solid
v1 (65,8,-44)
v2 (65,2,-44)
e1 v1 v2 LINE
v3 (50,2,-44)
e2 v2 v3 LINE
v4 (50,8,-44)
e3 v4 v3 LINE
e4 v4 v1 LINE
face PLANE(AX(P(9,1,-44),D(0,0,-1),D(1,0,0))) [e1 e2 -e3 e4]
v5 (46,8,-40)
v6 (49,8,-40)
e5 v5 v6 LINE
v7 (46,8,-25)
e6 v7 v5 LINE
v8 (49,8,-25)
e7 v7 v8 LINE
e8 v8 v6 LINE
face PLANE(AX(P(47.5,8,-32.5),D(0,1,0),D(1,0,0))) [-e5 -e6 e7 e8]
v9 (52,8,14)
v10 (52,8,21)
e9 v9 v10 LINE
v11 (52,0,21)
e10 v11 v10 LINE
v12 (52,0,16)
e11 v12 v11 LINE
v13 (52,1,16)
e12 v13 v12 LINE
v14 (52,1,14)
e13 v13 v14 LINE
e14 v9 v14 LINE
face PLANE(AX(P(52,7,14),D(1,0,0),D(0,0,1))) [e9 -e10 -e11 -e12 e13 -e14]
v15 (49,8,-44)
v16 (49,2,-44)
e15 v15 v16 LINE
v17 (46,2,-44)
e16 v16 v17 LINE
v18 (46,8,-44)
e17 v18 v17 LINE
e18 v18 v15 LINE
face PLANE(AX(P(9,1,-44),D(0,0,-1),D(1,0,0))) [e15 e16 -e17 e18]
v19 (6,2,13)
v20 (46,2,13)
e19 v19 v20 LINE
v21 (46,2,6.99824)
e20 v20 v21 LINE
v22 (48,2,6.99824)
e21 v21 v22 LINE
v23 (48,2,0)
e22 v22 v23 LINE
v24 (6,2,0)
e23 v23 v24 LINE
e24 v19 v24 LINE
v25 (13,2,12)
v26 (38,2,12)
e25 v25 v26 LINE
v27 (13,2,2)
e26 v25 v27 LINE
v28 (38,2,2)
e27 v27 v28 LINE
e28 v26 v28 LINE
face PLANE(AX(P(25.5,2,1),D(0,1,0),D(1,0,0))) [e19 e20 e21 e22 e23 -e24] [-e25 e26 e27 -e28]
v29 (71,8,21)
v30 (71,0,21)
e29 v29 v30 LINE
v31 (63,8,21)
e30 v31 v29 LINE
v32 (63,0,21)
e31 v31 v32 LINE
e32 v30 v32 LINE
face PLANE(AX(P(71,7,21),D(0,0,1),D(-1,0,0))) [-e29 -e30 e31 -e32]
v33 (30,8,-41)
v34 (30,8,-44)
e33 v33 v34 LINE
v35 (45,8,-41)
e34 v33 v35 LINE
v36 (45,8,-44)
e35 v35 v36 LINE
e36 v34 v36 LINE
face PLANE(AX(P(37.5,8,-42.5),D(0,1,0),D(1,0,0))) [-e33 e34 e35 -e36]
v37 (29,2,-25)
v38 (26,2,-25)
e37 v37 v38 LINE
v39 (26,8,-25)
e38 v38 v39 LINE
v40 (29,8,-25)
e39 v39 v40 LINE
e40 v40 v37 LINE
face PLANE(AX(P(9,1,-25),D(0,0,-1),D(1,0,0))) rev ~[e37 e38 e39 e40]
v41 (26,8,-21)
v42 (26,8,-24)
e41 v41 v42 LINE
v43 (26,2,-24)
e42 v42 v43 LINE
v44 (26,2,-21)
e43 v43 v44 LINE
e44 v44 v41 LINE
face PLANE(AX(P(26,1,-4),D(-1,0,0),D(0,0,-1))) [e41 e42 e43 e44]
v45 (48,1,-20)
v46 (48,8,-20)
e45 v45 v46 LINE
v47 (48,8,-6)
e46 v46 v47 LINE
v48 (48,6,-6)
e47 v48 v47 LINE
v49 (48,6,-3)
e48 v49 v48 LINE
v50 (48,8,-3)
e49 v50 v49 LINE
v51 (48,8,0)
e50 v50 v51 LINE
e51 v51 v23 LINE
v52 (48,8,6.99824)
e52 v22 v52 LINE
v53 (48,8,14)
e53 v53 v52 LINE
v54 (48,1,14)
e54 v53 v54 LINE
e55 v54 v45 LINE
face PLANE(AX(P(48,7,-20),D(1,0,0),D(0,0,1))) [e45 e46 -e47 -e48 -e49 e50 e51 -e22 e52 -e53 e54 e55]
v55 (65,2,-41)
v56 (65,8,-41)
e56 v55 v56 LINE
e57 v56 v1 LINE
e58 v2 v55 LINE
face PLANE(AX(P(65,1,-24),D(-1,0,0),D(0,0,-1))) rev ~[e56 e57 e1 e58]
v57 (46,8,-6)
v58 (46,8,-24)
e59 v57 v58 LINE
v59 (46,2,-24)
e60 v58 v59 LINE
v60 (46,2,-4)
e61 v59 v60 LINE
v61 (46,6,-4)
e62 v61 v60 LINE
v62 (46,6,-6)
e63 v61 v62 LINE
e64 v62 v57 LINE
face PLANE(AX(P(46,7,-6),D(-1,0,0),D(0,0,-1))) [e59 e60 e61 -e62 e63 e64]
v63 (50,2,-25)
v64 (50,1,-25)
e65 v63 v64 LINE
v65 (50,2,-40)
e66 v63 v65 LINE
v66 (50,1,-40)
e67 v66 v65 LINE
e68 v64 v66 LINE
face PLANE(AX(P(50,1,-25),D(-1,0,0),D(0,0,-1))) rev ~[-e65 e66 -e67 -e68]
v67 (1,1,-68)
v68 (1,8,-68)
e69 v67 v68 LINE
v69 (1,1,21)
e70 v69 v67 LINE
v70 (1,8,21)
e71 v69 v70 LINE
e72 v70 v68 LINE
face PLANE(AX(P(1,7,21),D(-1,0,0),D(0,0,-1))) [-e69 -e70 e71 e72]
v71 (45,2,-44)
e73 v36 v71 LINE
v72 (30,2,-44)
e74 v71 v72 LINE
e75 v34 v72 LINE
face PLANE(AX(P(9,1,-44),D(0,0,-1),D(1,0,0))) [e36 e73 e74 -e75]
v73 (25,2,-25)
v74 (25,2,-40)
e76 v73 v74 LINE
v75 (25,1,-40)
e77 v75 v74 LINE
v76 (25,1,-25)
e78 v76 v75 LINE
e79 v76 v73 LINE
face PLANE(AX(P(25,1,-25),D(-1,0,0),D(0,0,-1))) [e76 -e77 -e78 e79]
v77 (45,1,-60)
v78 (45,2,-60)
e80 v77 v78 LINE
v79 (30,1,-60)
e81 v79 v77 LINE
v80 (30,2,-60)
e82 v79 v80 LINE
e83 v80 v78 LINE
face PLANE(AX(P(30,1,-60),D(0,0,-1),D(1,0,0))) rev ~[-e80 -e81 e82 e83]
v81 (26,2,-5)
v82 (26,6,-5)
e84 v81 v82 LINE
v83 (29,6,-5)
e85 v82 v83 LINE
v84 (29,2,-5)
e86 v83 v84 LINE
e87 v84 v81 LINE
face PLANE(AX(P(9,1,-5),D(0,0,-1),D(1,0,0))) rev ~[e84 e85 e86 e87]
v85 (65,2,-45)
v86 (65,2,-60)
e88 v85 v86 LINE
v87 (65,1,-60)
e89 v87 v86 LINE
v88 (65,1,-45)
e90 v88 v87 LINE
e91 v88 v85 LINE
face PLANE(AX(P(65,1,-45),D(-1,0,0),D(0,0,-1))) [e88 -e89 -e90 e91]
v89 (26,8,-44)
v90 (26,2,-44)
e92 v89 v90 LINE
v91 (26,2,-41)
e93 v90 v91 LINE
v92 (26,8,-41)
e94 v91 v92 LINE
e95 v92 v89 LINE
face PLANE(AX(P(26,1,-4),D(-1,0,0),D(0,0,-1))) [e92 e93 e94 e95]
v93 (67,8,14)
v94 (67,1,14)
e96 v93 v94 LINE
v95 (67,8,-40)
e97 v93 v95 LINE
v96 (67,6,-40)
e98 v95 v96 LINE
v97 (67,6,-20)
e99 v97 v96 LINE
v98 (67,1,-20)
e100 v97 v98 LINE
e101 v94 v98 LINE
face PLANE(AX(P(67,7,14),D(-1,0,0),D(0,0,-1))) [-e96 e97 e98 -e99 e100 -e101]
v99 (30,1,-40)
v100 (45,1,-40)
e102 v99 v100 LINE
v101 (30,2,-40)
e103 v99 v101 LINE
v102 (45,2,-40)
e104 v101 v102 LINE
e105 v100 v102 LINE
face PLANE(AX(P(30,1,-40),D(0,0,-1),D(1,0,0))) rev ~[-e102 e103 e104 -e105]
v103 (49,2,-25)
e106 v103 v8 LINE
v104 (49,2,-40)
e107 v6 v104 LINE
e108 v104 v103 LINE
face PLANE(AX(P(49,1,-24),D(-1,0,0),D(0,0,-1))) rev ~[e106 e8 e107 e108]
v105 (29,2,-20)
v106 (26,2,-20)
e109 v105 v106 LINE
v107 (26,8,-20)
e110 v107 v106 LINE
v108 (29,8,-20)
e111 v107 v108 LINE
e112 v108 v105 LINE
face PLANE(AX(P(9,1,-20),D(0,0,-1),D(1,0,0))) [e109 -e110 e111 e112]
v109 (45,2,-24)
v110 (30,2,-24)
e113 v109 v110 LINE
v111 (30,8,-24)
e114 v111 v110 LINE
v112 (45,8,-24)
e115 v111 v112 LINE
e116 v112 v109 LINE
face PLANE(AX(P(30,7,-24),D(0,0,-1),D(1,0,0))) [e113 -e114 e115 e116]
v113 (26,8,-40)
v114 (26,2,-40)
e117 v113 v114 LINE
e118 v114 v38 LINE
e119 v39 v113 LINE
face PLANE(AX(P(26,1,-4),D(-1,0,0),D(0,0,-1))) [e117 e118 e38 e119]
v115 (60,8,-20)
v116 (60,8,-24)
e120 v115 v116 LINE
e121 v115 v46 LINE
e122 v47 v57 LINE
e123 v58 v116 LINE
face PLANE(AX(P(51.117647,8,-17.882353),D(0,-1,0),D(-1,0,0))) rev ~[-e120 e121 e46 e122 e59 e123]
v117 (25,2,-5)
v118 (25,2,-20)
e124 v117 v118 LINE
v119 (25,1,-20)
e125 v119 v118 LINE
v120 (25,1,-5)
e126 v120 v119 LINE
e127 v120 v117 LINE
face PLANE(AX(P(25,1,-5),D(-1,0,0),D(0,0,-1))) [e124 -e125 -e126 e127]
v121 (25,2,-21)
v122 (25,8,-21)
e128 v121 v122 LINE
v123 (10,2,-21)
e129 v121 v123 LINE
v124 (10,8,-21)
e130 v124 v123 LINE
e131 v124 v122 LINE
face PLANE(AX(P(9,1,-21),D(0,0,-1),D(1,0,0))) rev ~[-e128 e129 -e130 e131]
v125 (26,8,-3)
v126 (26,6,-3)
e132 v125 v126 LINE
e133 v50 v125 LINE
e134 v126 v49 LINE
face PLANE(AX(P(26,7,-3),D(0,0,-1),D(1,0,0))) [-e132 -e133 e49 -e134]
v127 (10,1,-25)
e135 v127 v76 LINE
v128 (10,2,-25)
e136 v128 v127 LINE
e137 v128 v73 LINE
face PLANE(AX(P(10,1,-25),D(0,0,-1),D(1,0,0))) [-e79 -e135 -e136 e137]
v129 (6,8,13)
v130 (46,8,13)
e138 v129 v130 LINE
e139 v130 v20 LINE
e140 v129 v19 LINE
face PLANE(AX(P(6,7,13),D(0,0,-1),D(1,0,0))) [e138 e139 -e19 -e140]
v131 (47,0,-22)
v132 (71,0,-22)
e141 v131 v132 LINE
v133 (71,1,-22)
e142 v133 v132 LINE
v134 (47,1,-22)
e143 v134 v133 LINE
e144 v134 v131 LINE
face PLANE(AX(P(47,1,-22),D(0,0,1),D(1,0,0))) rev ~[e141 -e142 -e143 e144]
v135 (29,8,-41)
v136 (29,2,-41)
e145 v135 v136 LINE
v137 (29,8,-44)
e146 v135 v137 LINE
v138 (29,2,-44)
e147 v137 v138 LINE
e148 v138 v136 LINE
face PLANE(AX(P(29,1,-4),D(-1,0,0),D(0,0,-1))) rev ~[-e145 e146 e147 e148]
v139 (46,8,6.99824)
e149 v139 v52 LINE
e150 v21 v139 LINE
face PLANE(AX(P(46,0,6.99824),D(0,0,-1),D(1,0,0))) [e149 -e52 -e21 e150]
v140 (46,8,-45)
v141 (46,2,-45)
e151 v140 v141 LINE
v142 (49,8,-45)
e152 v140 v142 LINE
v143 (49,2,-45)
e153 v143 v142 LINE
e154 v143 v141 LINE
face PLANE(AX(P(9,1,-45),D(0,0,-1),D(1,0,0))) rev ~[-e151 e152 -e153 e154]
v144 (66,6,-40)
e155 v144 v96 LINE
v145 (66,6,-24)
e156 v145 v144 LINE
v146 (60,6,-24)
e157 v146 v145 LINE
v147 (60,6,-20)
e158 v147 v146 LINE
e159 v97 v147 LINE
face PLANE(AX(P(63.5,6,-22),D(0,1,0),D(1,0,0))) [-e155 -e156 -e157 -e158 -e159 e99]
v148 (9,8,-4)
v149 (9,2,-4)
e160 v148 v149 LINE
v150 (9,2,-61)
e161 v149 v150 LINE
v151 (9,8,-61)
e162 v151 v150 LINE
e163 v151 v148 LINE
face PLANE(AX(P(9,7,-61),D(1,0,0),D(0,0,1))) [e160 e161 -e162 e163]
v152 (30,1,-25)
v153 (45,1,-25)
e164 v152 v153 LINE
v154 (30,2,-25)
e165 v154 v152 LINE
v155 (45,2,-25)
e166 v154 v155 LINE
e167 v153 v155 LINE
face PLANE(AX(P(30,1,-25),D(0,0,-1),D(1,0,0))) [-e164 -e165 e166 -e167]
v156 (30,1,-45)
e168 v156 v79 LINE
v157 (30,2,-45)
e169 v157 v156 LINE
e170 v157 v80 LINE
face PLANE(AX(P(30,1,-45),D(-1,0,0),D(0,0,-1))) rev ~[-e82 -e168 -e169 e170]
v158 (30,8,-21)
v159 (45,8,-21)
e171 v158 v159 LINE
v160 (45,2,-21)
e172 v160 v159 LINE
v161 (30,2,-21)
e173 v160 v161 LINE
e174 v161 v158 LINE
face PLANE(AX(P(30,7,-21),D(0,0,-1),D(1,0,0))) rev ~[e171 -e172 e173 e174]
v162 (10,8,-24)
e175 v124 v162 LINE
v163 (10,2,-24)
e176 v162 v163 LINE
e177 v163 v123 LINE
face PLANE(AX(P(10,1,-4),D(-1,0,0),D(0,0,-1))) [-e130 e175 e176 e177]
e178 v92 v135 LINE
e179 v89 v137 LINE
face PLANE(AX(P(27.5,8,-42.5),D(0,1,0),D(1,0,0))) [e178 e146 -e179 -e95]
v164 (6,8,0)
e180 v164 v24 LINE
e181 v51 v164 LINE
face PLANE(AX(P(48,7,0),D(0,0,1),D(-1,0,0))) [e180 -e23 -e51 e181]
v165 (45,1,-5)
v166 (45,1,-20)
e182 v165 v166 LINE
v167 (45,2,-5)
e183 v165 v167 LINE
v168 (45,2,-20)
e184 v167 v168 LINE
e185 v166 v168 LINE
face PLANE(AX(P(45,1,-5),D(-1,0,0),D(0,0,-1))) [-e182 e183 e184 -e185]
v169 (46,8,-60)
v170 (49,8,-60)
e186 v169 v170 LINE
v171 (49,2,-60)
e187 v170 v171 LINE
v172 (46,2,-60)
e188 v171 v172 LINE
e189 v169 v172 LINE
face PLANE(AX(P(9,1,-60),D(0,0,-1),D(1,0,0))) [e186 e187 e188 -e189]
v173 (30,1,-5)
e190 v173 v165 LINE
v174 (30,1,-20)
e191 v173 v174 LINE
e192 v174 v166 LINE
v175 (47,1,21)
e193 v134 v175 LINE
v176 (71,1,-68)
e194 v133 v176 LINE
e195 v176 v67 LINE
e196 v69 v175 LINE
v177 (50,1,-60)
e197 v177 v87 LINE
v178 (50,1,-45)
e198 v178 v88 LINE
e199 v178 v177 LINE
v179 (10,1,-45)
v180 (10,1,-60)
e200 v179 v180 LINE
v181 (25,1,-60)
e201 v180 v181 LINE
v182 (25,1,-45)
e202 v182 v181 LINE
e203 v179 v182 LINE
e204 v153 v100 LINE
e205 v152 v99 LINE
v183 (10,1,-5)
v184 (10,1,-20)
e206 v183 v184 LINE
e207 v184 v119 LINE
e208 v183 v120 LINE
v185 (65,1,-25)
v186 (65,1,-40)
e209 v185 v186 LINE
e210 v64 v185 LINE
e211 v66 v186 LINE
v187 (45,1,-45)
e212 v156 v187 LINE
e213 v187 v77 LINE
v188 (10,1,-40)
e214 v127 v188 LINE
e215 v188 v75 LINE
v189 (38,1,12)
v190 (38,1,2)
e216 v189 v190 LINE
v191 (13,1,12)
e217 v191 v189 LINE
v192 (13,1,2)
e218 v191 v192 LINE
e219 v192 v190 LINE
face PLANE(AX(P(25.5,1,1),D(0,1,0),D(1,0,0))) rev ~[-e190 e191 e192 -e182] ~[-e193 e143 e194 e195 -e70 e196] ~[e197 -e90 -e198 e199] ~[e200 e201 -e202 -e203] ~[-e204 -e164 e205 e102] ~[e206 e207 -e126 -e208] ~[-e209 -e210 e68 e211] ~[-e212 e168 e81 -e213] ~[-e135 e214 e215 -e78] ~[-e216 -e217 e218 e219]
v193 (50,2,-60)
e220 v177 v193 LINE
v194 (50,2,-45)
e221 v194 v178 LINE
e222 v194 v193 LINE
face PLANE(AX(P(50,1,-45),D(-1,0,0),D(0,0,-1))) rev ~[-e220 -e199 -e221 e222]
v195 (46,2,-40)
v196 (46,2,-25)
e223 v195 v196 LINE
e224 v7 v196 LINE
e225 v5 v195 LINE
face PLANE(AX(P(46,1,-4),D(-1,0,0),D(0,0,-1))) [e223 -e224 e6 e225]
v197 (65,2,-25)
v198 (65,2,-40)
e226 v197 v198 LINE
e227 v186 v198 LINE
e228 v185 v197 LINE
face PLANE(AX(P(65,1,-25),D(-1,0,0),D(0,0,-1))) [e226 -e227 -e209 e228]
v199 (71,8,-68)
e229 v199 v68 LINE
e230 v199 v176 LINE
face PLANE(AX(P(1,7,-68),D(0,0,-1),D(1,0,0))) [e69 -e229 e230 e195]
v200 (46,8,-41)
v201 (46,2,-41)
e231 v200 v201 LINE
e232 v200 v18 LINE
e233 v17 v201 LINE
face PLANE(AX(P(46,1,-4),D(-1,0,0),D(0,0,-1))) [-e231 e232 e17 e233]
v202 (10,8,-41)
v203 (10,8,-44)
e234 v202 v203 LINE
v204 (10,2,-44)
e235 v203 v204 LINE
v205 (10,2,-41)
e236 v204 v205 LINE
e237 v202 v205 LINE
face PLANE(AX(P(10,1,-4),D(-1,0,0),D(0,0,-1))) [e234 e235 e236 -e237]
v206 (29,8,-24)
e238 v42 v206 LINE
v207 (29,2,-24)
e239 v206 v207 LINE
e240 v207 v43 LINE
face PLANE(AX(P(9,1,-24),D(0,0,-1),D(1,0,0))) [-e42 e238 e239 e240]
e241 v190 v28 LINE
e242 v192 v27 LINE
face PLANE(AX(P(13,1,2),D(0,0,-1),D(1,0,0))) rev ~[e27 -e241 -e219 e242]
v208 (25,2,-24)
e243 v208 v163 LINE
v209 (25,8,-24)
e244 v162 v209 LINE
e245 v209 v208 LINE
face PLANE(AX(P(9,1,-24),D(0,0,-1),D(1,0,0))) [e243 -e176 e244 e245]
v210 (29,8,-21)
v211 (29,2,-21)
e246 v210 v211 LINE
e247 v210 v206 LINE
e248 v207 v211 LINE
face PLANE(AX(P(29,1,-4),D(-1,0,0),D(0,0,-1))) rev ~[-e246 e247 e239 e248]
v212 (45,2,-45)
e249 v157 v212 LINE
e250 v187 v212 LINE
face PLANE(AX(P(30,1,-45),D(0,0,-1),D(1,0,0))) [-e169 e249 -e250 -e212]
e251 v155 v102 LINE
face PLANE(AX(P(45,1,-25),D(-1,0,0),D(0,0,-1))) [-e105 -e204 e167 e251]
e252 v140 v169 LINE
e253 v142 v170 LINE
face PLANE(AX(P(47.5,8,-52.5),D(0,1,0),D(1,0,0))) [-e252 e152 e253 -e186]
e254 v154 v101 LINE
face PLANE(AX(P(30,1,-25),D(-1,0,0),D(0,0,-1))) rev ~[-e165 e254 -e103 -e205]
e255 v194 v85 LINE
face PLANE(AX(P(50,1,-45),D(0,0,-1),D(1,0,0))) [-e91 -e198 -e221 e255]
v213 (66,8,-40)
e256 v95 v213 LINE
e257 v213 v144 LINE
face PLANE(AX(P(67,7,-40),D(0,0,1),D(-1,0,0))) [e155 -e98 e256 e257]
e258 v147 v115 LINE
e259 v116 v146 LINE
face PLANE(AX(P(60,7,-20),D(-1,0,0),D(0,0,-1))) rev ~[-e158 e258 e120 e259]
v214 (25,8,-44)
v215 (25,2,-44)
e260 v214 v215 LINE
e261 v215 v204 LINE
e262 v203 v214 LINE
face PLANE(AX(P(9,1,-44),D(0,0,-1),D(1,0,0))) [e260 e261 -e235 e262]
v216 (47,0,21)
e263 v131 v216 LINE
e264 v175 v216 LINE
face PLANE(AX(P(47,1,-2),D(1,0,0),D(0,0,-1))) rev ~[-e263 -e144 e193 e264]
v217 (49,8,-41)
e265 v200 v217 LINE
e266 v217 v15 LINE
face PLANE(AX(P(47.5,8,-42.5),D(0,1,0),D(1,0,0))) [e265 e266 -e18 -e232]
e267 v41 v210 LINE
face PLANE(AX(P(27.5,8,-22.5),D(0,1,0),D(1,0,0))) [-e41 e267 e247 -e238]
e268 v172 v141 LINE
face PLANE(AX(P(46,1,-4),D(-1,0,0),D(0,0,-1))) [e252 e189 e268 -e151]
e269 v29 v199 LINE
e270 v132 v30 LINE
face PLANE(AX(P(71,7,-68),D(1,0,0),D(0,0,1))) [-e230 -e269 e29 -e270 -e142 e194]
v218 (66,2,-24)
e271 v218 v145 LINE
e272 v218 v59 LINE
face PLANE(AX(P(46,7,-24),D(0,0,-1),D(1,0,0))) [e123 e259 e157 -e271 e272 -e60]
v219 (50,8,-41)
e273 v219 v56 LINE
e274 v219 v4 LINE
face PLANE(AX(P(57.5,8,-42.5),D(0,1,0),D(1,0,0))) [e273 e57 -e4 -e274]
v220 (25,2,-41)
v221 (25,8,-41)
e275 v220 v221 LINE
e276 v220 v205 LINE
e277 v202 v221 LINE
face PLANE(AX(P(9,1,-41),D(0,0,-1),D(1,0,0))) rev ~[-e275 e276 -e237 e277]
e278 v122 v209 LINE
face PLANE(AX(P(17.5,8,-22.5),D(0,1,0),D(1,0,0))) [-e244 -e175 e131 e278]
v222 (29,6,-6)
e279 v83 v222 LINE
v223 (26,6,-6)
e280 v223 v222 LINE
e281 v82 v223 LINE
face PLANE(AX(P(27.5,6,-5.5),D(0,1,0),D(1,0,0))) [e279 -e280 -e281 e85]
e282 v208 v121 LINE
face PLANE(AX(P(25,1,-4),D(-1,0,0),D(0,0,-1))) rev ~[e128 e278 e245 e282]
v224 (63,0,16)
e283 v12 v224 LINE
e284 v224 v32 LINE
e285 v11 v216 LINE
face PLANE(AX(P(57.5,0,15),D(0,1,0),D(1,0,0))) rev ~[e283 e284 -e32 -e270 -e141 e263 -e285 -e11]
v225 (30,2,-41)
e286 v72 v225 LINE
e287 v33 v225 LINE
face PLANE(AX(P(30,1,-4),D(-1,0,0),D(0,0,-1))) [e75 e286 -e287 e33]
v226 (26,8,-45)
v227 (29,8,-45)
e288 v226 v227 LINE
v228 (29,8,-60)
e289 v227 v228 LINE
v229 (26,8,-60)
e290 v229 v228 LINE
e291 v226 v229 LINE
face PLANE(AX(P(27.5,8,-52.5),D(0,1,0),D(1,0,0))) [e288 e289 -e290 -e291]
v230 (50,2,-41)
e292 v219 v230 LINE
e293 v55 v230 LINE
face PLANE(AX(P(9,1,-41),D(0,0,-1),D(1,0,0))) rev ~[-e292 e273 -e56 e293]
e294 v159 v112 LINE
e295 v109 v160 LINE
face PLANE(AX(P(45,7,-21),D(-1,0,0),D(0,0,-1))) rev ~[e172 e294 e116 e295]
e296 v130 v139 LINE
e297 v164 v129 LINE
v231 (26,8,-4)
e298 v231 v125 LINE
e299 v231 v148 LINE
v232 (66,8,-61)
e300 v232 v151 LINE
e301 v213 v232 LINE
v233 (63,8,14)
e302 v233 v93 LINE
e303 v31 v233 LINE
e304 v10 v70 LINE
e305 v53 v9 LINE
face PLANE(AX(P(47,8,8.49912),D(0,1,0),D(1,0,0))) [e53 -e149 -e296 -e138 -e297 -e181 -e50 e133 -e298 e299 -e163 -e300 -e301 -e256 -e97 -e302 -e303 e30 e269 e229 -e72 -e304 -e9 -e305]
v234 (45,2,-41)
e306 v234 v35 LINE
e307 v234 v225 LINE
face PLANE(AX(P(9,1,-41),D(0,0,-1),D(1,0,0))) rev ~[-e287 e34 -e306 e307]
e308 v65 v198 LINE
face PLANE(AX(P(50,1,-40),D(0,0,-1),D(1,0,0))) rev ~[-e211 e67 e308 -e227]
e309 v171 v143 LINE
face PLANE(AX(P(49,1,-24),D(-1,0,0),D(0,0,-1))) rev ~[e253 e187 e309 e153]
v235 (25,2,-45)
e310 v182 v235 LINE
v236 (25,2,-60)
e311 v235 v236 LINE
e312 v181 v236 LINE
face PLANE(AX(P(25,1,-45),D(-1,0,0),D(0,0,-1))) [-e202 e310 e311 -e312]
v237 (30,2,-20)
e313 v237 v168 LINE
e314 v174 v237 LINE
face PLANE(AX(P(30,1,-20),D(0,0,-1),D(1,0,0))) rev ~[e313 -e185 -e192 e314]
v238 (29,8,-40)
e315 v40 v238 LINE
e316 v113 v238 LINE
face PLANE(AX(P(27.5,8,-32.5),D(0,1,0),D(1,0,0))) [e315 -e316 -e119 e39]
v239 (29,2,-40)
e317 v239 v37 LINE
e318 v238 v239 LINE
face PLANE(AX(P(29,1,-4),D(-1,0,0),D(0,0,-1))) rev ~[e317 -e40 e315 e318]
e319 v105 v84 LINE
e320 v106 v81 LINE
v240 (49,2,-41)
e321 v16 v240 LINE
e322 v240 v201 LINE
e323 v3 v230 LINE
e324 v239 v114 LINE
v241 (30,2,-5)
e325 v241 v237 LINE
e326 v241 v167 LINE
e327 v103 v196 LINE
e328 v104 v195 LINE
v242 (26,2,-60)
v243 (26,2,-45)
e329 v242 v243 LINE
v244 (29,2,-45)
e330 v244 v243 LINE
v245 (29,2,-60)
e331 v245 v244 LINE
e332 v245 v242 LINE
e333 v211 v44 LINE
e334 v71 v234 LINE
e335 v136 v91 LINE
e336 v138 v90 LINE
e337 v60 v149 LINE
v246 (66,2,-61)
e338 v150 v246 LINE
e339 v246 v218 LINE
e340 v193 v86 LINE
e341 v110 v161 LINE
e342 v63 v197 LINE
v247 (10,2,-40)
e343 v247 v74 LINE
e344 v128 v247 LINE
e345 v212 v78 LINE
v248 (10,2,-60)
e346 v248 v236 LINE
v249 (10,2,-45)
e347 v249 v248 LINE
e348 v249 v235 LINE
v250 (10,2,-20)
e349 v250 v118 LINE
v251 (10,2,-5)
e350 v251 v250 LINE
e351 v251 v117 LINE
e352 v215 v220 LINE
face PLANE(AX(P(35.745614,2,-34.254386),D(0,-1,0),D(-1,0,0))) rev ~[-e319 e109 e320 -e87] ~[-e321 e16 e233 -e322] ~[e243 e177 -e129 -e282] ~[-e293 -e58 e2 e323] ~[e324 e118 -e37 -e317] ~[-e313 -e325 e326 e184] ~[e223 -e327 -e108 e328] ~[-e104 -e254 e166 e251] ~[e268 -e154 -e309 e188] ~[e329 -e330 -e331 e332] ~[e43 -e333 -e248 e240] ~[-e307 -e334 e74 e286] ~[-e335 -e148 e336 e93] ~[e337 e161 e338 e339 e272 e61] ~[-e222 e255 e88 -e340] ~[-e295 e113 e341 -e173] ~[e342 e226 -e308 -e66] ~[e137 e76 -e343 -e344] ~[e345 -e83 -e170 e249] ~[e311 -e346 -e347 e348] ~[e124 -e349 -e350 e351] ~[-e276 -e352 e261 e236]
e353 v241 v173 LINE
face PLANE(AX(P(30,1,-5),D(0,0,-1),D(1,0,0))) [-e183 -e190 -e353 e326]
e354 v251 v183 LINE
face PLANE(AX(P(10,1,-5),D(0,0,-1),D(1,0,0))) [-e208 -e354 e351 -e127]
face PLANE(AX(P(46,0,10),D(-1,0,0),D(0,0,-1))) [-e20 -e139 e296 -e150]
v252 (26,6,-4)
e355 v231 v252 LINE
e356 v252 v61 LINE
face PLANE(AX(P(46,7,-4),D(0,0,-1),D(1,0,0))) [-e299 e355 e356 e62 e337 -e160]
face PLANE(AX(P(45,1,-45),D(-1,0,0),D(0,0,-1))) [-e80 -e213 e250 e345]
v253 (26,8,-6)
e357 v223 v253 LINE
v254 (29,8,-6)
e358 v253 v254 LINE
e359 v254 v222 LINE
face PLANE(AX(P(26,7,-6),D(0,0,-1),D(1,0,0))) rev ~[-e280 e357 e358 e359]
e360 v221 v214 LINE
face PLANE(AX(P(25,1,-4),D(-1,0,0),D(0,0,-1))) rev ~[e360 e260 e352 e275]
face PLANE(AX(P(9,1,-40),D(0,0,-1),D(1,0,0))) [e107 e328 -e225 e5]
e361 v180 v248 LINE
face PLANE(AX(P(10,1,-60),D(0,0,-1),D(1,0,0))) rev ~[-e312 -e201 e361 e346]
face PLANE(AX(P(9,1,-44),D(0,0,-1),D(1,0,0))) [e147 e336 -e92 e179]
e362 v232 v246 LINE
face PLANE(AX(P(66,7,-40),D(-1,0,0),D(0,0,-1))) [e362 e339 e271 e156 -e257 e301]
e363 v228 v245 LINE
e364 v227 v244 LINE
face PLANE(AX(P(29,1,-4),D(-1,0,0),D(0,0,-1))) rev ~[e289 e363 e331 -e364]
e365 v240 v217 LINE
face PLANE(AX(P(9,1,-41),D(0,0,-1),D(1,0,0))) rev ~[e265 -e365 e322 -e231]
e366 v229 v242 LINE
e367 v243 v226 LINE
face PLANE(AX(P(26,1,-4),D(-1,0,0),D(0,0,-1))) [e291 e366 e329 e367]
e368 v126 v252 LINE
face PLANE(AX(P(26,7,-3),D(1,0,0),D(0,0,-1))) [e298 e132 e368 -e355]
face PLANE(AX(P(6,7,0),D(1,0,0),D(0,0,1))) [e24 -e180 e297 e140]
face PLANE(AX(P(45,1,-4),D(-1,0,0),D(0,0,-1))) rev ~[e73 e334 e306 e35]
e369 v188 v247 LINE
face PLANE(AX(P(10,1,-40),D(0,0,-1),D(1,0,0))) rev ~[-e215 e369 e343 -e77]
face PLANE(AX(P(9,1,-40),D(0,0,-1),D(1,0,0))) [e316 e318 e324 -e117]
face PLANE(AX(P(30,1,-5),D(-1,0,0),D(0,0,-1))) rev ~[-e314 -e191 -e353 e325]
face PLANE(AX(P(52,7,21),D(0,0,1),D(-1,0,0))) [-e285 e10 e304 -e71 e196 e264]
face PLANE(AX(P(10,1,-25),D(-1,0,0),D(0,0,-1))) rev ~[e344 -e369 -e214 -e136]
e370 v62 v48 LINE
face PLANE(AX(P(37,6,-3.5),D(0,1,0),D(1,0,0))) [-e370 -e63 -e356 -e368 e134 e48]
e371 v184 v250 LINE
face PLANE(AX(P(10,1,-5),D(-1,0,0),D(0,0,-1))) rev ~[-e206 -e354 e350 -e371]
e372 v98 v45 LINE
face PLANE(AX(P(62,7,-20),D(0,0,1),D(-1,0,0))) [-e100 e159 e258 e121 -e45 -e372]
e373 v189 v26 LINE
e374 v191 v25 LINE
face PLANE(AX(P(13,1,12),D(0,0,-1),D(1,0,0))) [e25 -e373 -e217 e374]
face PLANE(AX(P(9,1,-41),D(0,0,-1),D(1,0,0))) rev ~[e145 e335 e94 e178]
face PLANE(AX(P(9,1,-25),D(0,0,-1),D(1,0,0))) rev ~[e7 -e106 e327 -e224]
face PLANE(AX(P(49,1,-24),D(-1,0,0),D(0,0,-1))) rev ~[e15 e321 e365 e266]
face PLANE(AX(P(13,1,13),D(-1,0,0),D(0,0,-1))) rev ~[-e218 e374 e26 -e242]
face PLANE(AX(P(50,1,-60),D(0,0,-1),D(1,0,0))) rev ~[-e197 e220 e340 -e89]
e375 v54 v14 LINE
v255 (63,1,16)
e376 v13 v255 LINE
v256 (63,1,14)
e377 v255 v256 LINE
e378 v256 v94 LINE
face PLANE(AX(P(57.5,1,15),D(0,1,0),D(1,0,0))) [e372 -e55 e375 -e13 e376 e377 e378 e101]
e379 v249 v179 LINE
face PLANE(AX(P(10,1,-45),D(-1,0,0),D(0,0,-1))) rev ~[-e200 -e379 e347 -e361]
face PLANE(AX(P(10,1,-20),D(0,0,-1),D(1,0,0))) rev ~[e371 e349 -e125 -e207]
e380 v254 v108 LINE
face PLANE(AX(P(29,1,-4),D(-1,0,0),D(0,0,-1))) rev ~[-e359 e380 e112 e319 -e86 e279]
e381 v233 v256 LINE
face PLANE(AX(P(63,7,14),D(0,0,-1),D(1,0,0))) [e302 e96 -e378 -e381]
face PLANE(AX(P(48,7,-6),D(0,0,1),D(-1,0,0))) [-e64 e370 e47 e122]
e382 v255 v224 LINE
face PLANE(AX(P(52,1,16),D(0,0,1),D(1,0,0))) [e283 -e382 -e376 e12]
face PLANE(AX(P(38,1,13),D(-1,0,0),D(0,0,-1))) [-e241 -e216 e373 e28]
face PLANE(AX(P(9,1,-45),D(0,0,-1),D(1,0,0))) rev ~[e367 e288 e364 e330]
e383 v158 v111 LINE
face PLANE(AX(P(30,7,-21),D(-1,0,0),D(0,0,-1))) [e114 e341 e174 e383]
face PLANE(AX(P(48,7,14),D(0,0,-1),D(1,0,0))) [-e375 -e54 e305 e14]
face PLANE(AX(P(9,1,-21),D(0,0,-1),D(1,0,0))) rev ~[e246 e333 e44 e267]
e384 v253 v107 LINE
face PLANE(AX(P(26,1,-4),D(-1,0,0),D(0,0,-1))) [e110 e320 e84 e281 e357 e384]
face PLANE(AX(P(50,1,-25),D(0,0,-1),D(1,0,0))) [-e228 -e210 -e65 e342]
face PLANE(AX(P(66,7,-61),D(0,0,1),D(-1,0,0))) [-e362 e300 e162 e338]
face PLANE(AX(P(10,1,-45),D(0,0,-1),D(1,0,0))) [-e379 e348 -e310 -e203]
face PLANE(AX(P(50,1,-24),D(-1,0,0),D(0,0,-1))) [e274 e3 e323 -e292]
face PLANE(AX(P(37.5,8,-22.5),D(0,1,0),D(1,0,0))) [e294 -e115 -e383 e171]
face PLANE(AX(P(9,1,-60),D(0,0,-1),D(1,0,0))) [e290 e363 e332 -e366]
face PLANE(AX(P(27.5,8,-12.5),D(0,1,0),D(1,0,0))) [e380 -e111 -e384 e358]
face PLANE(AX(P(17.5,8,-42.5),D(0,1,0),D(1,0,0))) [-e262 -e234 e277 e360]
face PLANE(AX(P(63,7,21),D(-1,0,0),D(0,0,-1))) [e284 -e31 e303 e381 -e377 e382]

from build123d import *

# Parameters (mm, degrees)
SKETCH_1_W                = 71
SKETCH_1_H                = 67
EXTRUDE_2_DEPTH           = 5
SKETCH_1_2_W              = 71
SKETCH_1_2_H              = 67
EXTRUDE_3_DEPTH           = 7
SKETCH_9_W                = 20
SKETCH_9_H                = 20
CUT_EXTRUDE_5_DEPTH       = 36
SKETCH_10_W               = 15
SKETCH_10_H               = 15
SKETCH_10_W_2             = 1
SKETCH_10_H_2             = 20
CUT_EXTRUDE_6_DEPTH       = 32
SKETCH_14_W               = 1
SKETCH_14_H               = 37
SKETCH_14_H_2             = 57
CUT_EXTRUDE_7_DEPTH       = 19
SKETCH_15_W               = 37
SKETCH_15_H               = 1
SKETCH_15_W_2             = 57
CUT_EXTRUDE_8_DEPTH       = 27
SKETCH_16_W               = 23
SKETCH_16_H               = 21
CUT_EXTRUDE_9_DEPTH       = 17
SKETCH_17_W               = 1
SKETCH_17_H               = 67
CUT_EXTRUDE_10_DEPTH      = 27
SKETCH_18_W               = 1
SKETCH_18_H               = 19
CUT_EXTRUDE_11_DEPTH      = 1
SKETCH_19_W               = 2
SKETCH_19_H               = 19
CUT_EXTRUDE_12_DEPTH      = 1
SKETCH_20_W               = 1
SKETCH_20_H               = 3
CUT_EXTRUDE_13_DEPTH      = 1
SKETCH_21_W               = 2
SKETCH_21_H               = 1
CUT_EXTRUDE_15_DEPTH      = 1
SKETCH_22_W               = 23
SKETCH_22_H               = 1
EXTRUDE_4_DEPTH           = 7
SKETCH_23_W               = 1
SKETCH_23_H               = 1
SKETCH_23_W_2             = 2
CUT_EXTRUDE_16_DEPTH      = 1
SKETCH_24_W               = 70
SKETCH_24_H               = 1
EXTRUDE_5_DEPTH           = 7
SKETCH_27_W               = 5
SKETCH_27_H               = 20
EXTRUDE_6_DEPTH           = 7
SKETCH_28_W               = 42
SKETCH_28_H               = 8
EXTRUDE_7_DEPTH           = 7
SKETCH_29_W               = 42
SKETCH_29_H               = 1
CUT_EXTRUDE_17_DEPTH      = 7
SKETCH_30_W               = 47
SKETCH_30_H               = 1
EXTRUDE_8_DEPTH           = 7
SKETCH_31_W               = 2
SKETCH_31_H               = 3
EXTRUDE_9_DEPTH           = 7
SKETCH_32_W               = 4
SKETCH_32_H               = 41
EXTRUDE_11_DEPTH          = 7
SKETCH_33_W               = 4
SKETCH_33_H               = 4
EXTRUDE_12_DEPTH          = 7
SKETCH_34_W               = 4
SKETCH_34_H               = 4
EXTRUDE_13_DEPTH          = 7
SKETCH_35_W               = 19
SKETCH_35_H               = 3
EXTRUDE_14_DEPTH          = 7
SKETCH_36_W               = 11
SKETCH_36_H               = 3
CUT_EXTRUDE_20_DEPTH      = 7
SKETCH_37_R               = 0.5
CUT_EXTRUDE_22_DEPTH      = 9
SKETCH_38_R               = 1
CUT_EXTRUDE_23_DEPTH      = 5
EXTRUDE_15_DEPTH          = 1
SKETCH_37_3_R             = 0.5
CUT_EXTRUDE_26_DEPTH      = 12
CUT_EXTRUDE_26_DEPTH_BACK = 12
SKETCH_40_W               = 2
SKETCH_40_H               = 1
CUT_EXTRUDE_28_DEPTH      = 9
CUT_EXTRUDE_28_DEPTH_BACK = 1
SKETCH_42_W               = 3
SKETCH_42_H               = 4
CUT_EXTRUDE_29_DEPTH      = 1
SKETCH_43_W               = 3
SKETCH_43_H               = 15
SKETCH_43_W_2             = 15
SKETCH_43_H_2             = 3
EXTRUDE_17_DEPTH          = 1
SKETCH_44_W               = 2
SKETCH_44_H               = 3.001760435
EXTRUDE_18_DEPTH          = 8
SKETCH_45_W               = 7
SKETCH_45_H               = 13
EXTRUDE_19_DEPTH          = 1
SKETCH_46_W               = 10
SKETCH_46_H               = 13
EXTRUDE_20_DEPTH          = 1
SKETCH_49_W               = 22.379206011
SKETCH_49_H               = 34.512992384
EXTRUDE_26_DEPTH          = 1
SKETCH_50_W               = 4.314622461
SKETCH_50_H               = 5.170850193
SKETCH_50_W_2             = 4.148439206
SKETCH_50_H_2             = 6.322894144
SKETCH_50_W_3             = 5.848573563
EXTRUDE_27_DEPTH          = 8
SKETCH_51_W               = 4
SKETCH_51_H               = 18
SKETCH_51_W_2             = 1
EXTRUDE_28_DEPTH          = 1
SKETCH_52_W               = 11
SKETCH_52_H               = 2
EXTRUDE_29_DEPTH          = 1
EXTRUDE_30_DEPTH          = 1
SKETCH_55_W               = 15
SKETCH_55_H               = 15
CUT_EXTRUDE_31_DEPTH      = 1
CUT_EXTRUDE_32_DEPTH      = 1
SKETCH_57_W               = 46
SKETCH_57_H               = 23
CUT_EXTRUDE_33_DEPTH      = 1
SKETCH_58_W               = 15
SKETCH_58_H               = 3
EXTRUDE_31_DEPTH          = 1
SKETCH_59_W               = 22
SKETCH_59_H               = 1
CUT_EXTRUDE_37_DEPTH      = 2
CUT_EXTRUDE_37_DEPTH_BACK = 1
SKETCH_60_W               = 25
SKETCH_60_H               = 2
SKETCH_60_H_2             = 1
EXTRUDE_32_DEPTH          = 1
SKETCH_61_W               = 2
SKETCH_61_H               = 4
CUT_EXTRUDE_39_DEPTH      = 1
CUT_EXTRUDE_39_DEPTH_BACK = 1
SKETCH_62_W               = 3
SKETCH_62_H               = 1
CUT_EXTRUDE_40_DEPTH      = 1
CUT_EXTRUDE_40_DEPTH_BACK = 1


with BuildPart() as part:
    # 草图1 → 凸台-拉伸2 (new body)
    with BuildSketch(Plane(origin=(0, 0, 0), x_dir=(1, 0, 0), z_dir=(0, 1, 0))):
        with Locations((35.5, 33.5)):
            Rectangle(SKETCH_1_W, SKETCH_1_H)
    extrude(amount=EXTRUDE_2_DEPTH)

    # 草图1<2> → 凸台-拉伸3 (add)
    with BuildSketch(Plane(origin=(0, 0, 0), x_dir=(1, 0, 0), z_dir=(0, 1, 0))):
        with Locations((35.5, 33.5)):
            Rectangle(SKETCH_1_2_W, SKETCH_1_2_H)
    extrude(amount=EXTRUDE_3_DEPTH)

    # 草图9 → 切除-拉伸5 (cut)
    with BuildSketch(Plane(origin=(0, 0, 0), x_dir=(1, 0, 0), z_dir=(0, 1, 0))):
        with Locations((61, 10)):
            Rectangle(SKETCH_9_W, SKETCH_9_H)
    extrude(amount=CUT_EXTRUDE_5_DEPTH, mode=Mode.SUBTRACT)

    # 草图10 → 切除-拉伸6 (cut)
    with BuildSketch(Plane(origin=(0, 0, 0), x_dir=(1, 0, 0), z_dir=(0, 1, 0))):
        with Locations((17.5, 52.5)):
            Rectangle(SKETCH_10_W, SKETCH_10_H)
        with Locations((37.5, 52.5)):
            Rectangle(SKETCH_10_W, SKETCH_10_H)
        with Locations((57.5, 52.5)):
            Rectangle(SKETCH_10_W, SKETCH_10_H)
        with Locations((57.5, 32.5)):
            Rectangle(SKETCH_10_W, SKETCH_10_H)
        with Locations((37.5, 32.5)):
            Rectangle(SKETCH_10_W, SKETCH_10_H)
        with Locations((17.5, 32.5)):
            Rectangle(SKETCH_10_W, SKETCH_10_H)
        with Locations((17.5, 12.5)):
            Rectangle(SKETCH_10_W, SKETCH_10_H)
        with Locations((37.5, 12.5)):
            Rectangle(SKETCH_10_W, SKETCH_10_H)
        with Locations((50.5, 10)):
            Rectangle(SKETCH_10_W_2, SKETCH_10_H_2)
    extrude(amount=CUT_EXTRUDE_6_DEPTH, mode=Mode.SUBTRACT)

    # 草图14 → 切除-拉伸7 (cut)
    with BuildSketch(Plane(origin=(0, 1, 0), x_dir=(1, 0, 0), z_dir=(0, 1, 0))):
        with Locations((65.5, 42.5)):
            Rectangle(SKETCH_14_W, SKETCH_14_H)
        with Locations((49.5, 42.5)):
            Rectangle(SKETCH_14_W, SKETCH_14_H)
        with Locations((29.5, 32.5)):
            Rectangle(SKETCH_14_W, SKETCH_14_H_2)
        with Locations((25.5, 32.5)):
            Rectangle(SKETCH_14_W, SKETCH_14_H_2)
        with Locations((9.5, 32.5)):
            Rectangle(SKETCH_14_W, SKETCH_14_H_2)
        with Locations((45.5, 32.5)):
            Rectangle(SKETCH_14_W, SKETCH_14_H_2)
    extrude(amount=CUT_EXTRUDE_7_DEPTH, mode=Mode.SUBTRACT)

    # 草图15 → 切除-拉伸8 (cut)
    with BuildSketch(Plane(origin=(0, 1, 0), x_dir=(1, 0, 0), z_dir=(0, 1, 0))):
        with Locations((27.5, 4.5)):
            Rectangle(SKETCH_15_W, SKETCH_15_H)
        with Locations((37.5, 24.5)):
            Rectangle(SKETCH_15_W_2, SKETCH_15_H)
        with Locations((37.5, 44.5)):
            Rectangle(SKETCH_15_W_2, SKETCH_15_H)
        with Locations((27.5, 20.5)):
            Rectangle(SKETCH_15_W, SKETCH_15_H)
        with Locations((37.5, 40.5)):
            Rectangle(SKETCH_15_W_2, SKETCH_15_H)
        with Locations((37.5, 60.5)):
            Rectangle(SKETCH_15_W_2, SKETCH_15_H)
    extrude(amount=CUT_EXTRUDE_8_DEPTH, mode=Mode.SUBTRACT)

    # 草图16 → 切除-拉伸9 (cut)
    with BuildSketch(Plane(origin=(0, 0, 0), x_dir=(1, 0, 0), z_dir=(0, 1, 0))):
        with Locations((59.5, 10.5)):
            Rectangle(SKETCH_16_W, SKETCH_16_H)
    extrude(amount=CUT_EXTRUDE_9_DEPTH, mode=Mode.SUBTRACT)

    # 草图17 → 切除-拉伸10 (cut)
    with BuildSketch(Plane(origin=(0, 0, 0), x_dir=(1, 0, 0), z_dir=(0, 1, 0))):
        with Locations((0.5, 33.5)):
            Rectangle(SKETCH_17_W, SKETCH_17_H)
    extrude(amount=CUT_EXTRUDE_10_DEPTH, mode=Mode.SUBTRACT)

    # 草图18 → 切除-拉伸11 (cut)
    with BuildSketch(Plane(origin=(0, 7, 0), x_dir=(1, 0, 0), z_dir=(0, 1, 0))):
        with Locations((66.5, 30.5)):
            Rectangle(SKETCH_18_W, SKETCH_18_H)
    extrude(amount=-CUT_EXTRUDE_11_DEPTH, mode=Mode.SUBTRACT)

    # 草图19 → 切除-拉伸12 (cut)
    with BuildSketch(Plane(origin=(0, 7, 0), x_dir=(1, 0, 0), z_dir=(0, 1, 0))):
        with Locations((66, 30.5)):
            Rectangle(SKETCH_19_W, SKETCH_19_H)
    extrude(amount=-CUT_EXTRUDE_12_DEPTH, mode=Mode.SUBTRACT)

    # 草图20 → 切除-拉伸13 (cut)
    with BuildSketch(Plane(origin=(0, 7, 0), x_dir=(1, 0, 0), z_dir=(0, 1, 0))):
        with Locations((63.5, 22.5)):
            Rectangle(SKETCH_20_W, SKETCH_20_H)
    extrude(amount=-CUT_EXTRUDE_13_DEPTH, mode=Mode.SUBTRACT)

    # 草图21 → 切除-拉伸15 (cut)
    with BuildSketch(Plane(origin=(0, 7, 0), x_dir=(1, 0, 0), z_dir=(0, 1, 0))):
        with Locations((47, 5.5)):
            Rectangle(SKETCH_21_W, SKETCH_21_H)
    extrude(amount=-CUT_EXTRUDE_15_DEPTH, mode=Mode.SUBTRACT)

    # 草图22 → 凸台-拉伸4 (add)
    with BuildSketch(Plane(origin=(0, 7, 0), x_dir=(1, 0, 0), z_dir=(0, 1, 0))):
        with Locations((59.5, 20.5)):
            Rectangle(SKETCH_22_W, SKETCH_22_H)
    extrude(amount=-EXTRUDE_4_DEPTH)

    # 草图23 → 切除-拉伸16 (cut)
    with BuildSketch(Plane(origin=(0, 7, 0), x_dir=(1, 0, 0), z_dir=(0, 1, 0))):
        with Locations((63.5, 20.5)):
            Rectangle(SKETCH_23_W, SKETCH_23_H)
        with Locations((66, 20.5)):
            Rectangle(SKETCH_23_W_2, SKETCH_23_H)
    extrude(amount=-CUT_EXTRUDE_16_DEPTH, mode=Mode.SUBTRACT)

    # 草图24 → 凸台-拉伸5 (add)
    with BuildSketch(Plane(origin=(0, 7, 0), x_dir=(1, 0, 0), z_dir=(0, 1, 0))):
        with Locations((36, 67.5)):
            Rectangle(SKETCH_24_W, SKETCH_24_H)
    extrude(amount=-EXTRUDE_5_DEPTH)

    # 草图27 → 凸台-拉伸6 (add)
    with BuildSketch(Plane(origin=(0, 7, 0), x_dir=(1, 0, 0), z_dir=(0, 1, 0))):
        with Locations((3.5, -10)):
            Rectangle(SKETCH_27_W, SKETCH_27_H)
    extrude(amount=-EXTRUDE_6_DEPTH)

    # 草图28 → 凸台-拉伸7 (add)
    with BuildSketch(Plane(origin=(0, 7, 0), x_dir=(1, 0, 0), z_dir=(0, 1, 0))):
        with Locations((27, -16)):
            Rectangle(SKETCH_28_W, SKETCH_28_H)
    extrude(amount=-EXTRUDE_7_DEPTH)

    # 草图29 → 切除-拉伸17 (cut)
    with BuildSketch(Plane(origin=(0, 7, 0), x_dir=(1, 0, 0), z_dir=(0, 1, 0))):
        with Locations((27, -12.5)):
            Rectangle(SKETCH_29_W, SKETCH_29_H)
    extrude(amount=-CUT_EXTRUDE_17_DEPTH, mode=Mode.SUBTRACT)

    # 草图30 → 凸台-拉伸8 (add)
    with BuildSketch(Plane(origin=(0, 7, 0), x_dir=(1, 0, 0), z_dir=(0, 1, 0))):
        with Locations((24.5, -20.5)):
            Rectangle(SKETCH_30_W, SKETCH_30_H)
    extrude(amount=-EXTRUDE_8_DEPTH)

    # 草图31 → 凸台-拉伸9 (add)
    with BuildSketch(Plane(origin=(0, 7, 0), x_dir=(1, 0, 0), z_dir=(0, 1, 0))):
        with Locations((47, -11.5)):
            Rectangle(SKETCH_31_W, SKETCH_31_H)
    extrude(amount=-EXTRUDE_9_DEPTH)

    # 草图32 → 凸台-拉伸11 (add)
    with BuildSketch(Plane(origin=(0, 7, 0), x_dir=(1, 0, 0), z_dir=(0, 1, 0))):
        with Locations((69, -0.5)):
            Rectangle(SKETCH_32_W, SKETCH_32_H)
    extrude(amount=-EXTRUDE_11_DEPTH)

    # 草图33 → 凸台-拉伸12 (add)
    with BuildSketch(Plane(origin=(0, 7, 0), x_dir=(1, 0, 0), z_dir=(0, 1, 0))):
        with Locations((65, -19)):
            Rectangle(SKETCH_33_W, SKETCH_33_H)
    extrude(amount=-EXTRUDE_12_DEPTH)

    # 草图34 → 凸台-拉伸13 (add)
    with BuildSketch(Plane(origin=(0, 7, 0), x_dir=(1, 0, 0), z_dir=(0, 1, 0))):
        with Locations((50, -19)):
            Rectangle(SKETCH_34_W, SKETCH_34_H)
    extrude(amount=-EXTRUDE_13_DEPTH)

    # 草图35 → 凸台-拉伸14 (add)
    with BuildSketch(Plane(origin=(0, 7, 0), x_dir=(1, 0, 0), z_dir=(0, 1, 0))):
        with Locations((57.5, -15.5)):
            Rectangle(SKETCH_35_W, SKETCH_35_H)
    extrude(amount=-EXTRUDE_14_DEPTH)

    # 草图36 → 切除-拉伸20 (cut)
    with BuildSketch(Plane(origin=(0, 0, 0), x_dir=(1, 0, 0), z_dir=(0, 1, 0))):
        with Locations((57.5, -15.5)):
            Rectangle(SKETCH_36_W, SKETCH_36_H)
    extrude(amount=CUT_EXTRUDE_20_DEPTH, mode=Mode.SUBTRACT)

    # 草图37 → 切除-拉伸22 (cut)
    with BuildSketch(Plane(origin=(0, 7, 0), x_dir=(1, 0, 0), z_dir=(0, 1, 0))):
        with Locations((3, -18)):
            Circle(SKETCH_37_R)
        with Locations((69.5, -18)):
            Circle(SKETCH_37_R)
        with Locations((69.5, 64)):
            Circle(SKETCH_37_R)
        with Locations((3.5, 64)):
            Circle(SKETCH_37_R)
    extrude(amount=-CUT_EXTRUDE_22_DEPTH, mode=Mode.SUBTRACT)

    # 草图38 → 切除-拉伸23 (cut)
    with BuildSketch(Plane(origin=(0, 0, 0), x_dir=(1, 0, 0), z_dir=(0, 1, 0))):
        with Locations((69.5, -18)):
            Circle(SKETCH_38_R)
        with Locations((69.5, 64)):
            Circle(SKETCH_38_R)
        with Locations((3.5, 64)):
            Circle(SKETCH_38_R)
        with Locations((3, -18)):
            Circle(SKETCH_38_R)
    extrude(amount=CUT_EXTRUDE_23_DEPTH, mode=Mode.SUBTRACT)

    # 草图39 → 凸台-拉伸15 (add)
    with BuildSketch(Plane(origin=(0, 7, 0), x_dir=(1, 0, 0), z_dir=(0, 1, 0))):
        Polygon((1, 68), (71, 68), (71, -21), (63, -21), (63, -14), (67, -14), (67, 40), (66, 40), (66, 61), (9, 61), (9, 4), (46, 4), (46, 5), (48, 5), (48, 0), (6, 0), (6, -13), (46, -13), (46, -10), (48, -10), (48, -14), (52, -14), (52, -21), (1, -21), align=None)
    extrude(amount=EXTRUDE_15_DEPTH)

    # 草图37<3> → 切除-拉伸26 (cut, two sides)
    with BuildSketch(Plane(origin=(0, 7, 0), x_dir=(1, 0, 0), z_dir=(0, 1, 0))) as cut_extrude_26_sk:
        with Locations((3, -18)):
            Circle(SKETCH_37_3_R)
        with Locations((69.5, -18)):
            Circle(SKETCH_37_3_R)
        with Locations((69.5, 64)):
            Circle(SKETCH_37_3_R)
        with Locations((3.5, 64)):
            Circle(SKETCH_37_3_R)
    extrude(amount=CUT_EXTRUDE_26_DEPTH, mode=Mode.SUBTRACT)
    extrude(cut_extrude_26_sk.sketch, amount=-CUT_EXTRUDE_26_DEPTH_BACK, mode=Mode.SUBTRACT)

    # 草图40 → 切除-拉伸28 (cut, two sides)
    with BuildSketch(Plane(origin=(0, 7, 0), x_dir=(1, 0, 0), z_dir=(0, 1, 0))) as cut_extrude_28_sk:
        with Locations((47, 4.5)):
            Rectangle(SKETCH_40_W, SKETCH_40_H)
    extrude(amount=CUT_EXTRUDE_28_DEPTH, mode=Mode.SUBTRACT)
    extrude(cut_extrude_28_sk.sketch, amount=-CUT_EXTRUDE_28_DEPTH_BACK, mode=Mode.SUBTRACT)

    # 草图42 → 切除-拉伸29 (cut)
    with BuildSketch(Plane(origin=(0, 7, 0), x_dir=(1, 0, 0), z_dir=(0, 1, 0))):
        with Locations((63.5, 22)):
            Rectangle(SKETCH_42_W, SKETCH_42_H)
    extrude(amount=-CUT_EXTRUDE_29_DEPTH, mode=Mode.SUBTRACT)

    # 草图43 → 凸台-拉伸17 (add)
    with BuildSketch(Plane(origin=(0, 7, 0), x_dir=(1, 0, 0), z_dir=(0, 1, 0))):
        Polygon((46, 6), (46, 24), (62, 24), (62, 20), (48, 20), (48, 6), align=None)
        with Locations((47.5, 32.5)):
            Rectangle(SKETCH_43_W, SKETCH_43_H)
        with Locations((47.5, 52.5)):
            Rectangle(SKETCH_43_W, SKETCH_43_H)
        with Locations((57.5, 42.5)):
            Rectangle(SKETCH_43_W_2, SKETCH_43_H_2)
        with Locations((27.5, 52.5)):
            Rectangle(SKETCH_43_W, SKETCH_43_H)
        with Locations((27.5, 32.5)):
            Rectangle(SKETCH_43_W, SKETCH_43_H)
        with Locations((17.5, 42.5)):
            Rectangle(SKETCH_43_W_2, SKETCH_43_H_2)
        with Locations((37.5, 42.5)):
            Rectangle(SKETCH_43_W_2, SKETCH_43_H_2)
        with Locations((17.5, 22.5)):
            Rectangle(SKETCH_43_W_2, SKETCH_43_H_2)
        with Locations((27.5, 12.5)):
            Rectangle(SKETCH_43_W, SKETCH_43_H)
        with Locations((27.5, 22.5)):
            Rectangle(SKETCH_43_W, SKETCH_43_H_2)
        with Locations((47.5, 42.5)):
            Rectangle(SKETCH_43_W, SKETCH_43_H_2)
        with Locations((27.5, 42.5)):
            Rectangle(SKETCH_43_W, SKETCH_43_H_2)
    extrude(amount=EXTRUDE_17_DEPTH)

    # 草图44 → 凸台-拉伸18 (add)
    with BuildSketch(Plane(origin=(0, 0, 0), x_dir=(1, 0, 0), z_dir=(0, 1, 0))):
        with Locations((47, -8.499119782)):
            Rectangle(SKETCH_44_W, SKETCH_44_H)
    extrude(amount=EXTRUDE_18_DEPTH)

    # 草图45 → 凸台-拉伸19 (add)
    with BuildSketch(Plane(origin=(0, 1, 0), x_dir=(1, 0, 0), z_dir=(0, 1, 0))):
        with Locations((9.5, -6.5)):
            Rectangle(SKETCH_45_W, SKETCH_45_H)
    extrude(amount=EXTRUDE_19_DEPTH)

    # 草图46 → 凸台-拉伸20 (add)
    with BuildSketch(Plane(origin=(0, 1, 0), x_dir=(1, 0, 0), z_dir=(0, 1, 0))):
        with Locations((43, -6.5)):
            Rectangle(SKETCH_46_W, SKETCH_46_H)
    extrude(amount=EXTRUDE_20_DEPTH)

    # 草图49 → 凸台-拉伸26 (add)
    with BuildSketch(Plane(origin=(0, 0, 0), x_dir=(1, 0, 0), z_dir=(0, 1, 0))):
        with Locations((57.189603006, 3.256496192)):
            Rectangle(SKETCH_49_W, SKETCH_49_H)
    extrude(amount=EXTRUDE_26_DEPTH)

    # 草图50 → 凸台-拉伸27 (add)
    with BuildSketch(Plane(origin=(0, 0, 0), x_dir=(1, 0, 0), z_dir=(0, 1, 0))):
        with Locations((3.15731123, -18.414574904)):
            Rectangle(SKETCH_50_W, SKETCH_50_H)
        with Locations((68.925780397, -18.414574904)):
            Rectangle(SKETCH_50_W_2, SKETCH_50_H)
        with Locations((68.925780397, 64.838552928)):
            Rectangle(SKETCH_50_W_2, SKETCH_50_H_2)
        with Locations((3.924286782, 64.838552928)):
            Rectangle(SKETCH_50_W_3, SKETCH_50_H_2)
    extrude(amount=EXTRUDE_27_DEPTH)

    # 草图51 → 凸台-拉伸28 (add)
    with BuildSketch(Plane(origin=(0, 1, 0), x_dir=(1, 0, 0), z_dir=(0, 1, 0))):
        with Locations((8, -4)):
            Rectangle(SKETCH_51_W, SKETCH_51_H)
        with Locations((45.5, -4)):
            Rectangle(SKETCH_51_W_2, SKETCH_51_H)
    extrude(amount=-EXTRUDE_28_DEPTH)

    # 草图52 → 凸台-拉伸29 (add)
    with BuildSketch(Plane(origin=(0, 1, 0), x_dir=(1, 0, 0), z_dir=(0, 1, 0))):
        with Locations((57.5, -15)):
            Rectangle(SKETCH_52_W, SKETCH_52_H)
    extrude(amount=-EXTRUDE_29_DEPTH)

    # 草图54 → 凸台-拉伸30 (add)
    with BuildSketch(Plane(origin=(0, 1, 0), x_dir=(1, 0, 0), z_dir=(0, 1, 0))):
        Polygon((9, 61), (66, 61), (66, 24), (46, 24), (46, 4), (9, 4), align=None)
    extrude(amount=EXTRUDE_30_DEPTH)

    # 草图55 → 切除-拉伸31 (cut)
    with BuildSketch(Plane(origin=(0, 1, 0), x_dir=(1, 0, 0), z_dir=(0, 1, 0))):
        with Locations((57.5, 52.5)):
            Rectangle(SKETCH_55_W, SKETCH_55_H)
        with Locations((37.5, 52.5)):
            Rectangle(SKETCH_55_W, SKETCH_55_H)
        with Locations((17.5, 52.5)):
            Rectangle(SKETCH_55_W, SKETCH_55_H)
        with Locations((57.5, 32.5)):
            Rectangle(SKETCH_55_W, SKETCH_55_H)
        with Locations((37.5, 32.5)):
            Rectangle(SKETCH_55_W, SKETCH_55_H)
        with Locations((17.5, 32.5)):
            Rectangle(SKETCH_55_W, SKETCH_55_H)
        with Locations((37.5, 12.5)):
            Rectangle(SKETCH_55_W, SKETCH_55_H)
        with Locations((17.5, 12.5)):
            Rectangle(SKETCH_55_W, SKETCH_55_H)
    extrude(amount=CUT_EXTRUDE_31_DEPTH, mode=Mode.SUBTRACT)

    # 草图56 → 切除-拉伸32 (cut)
    with BuildSketch(Plane(origin=(0, 1, 0), x_dir=(1, 0, 0), z_dir=(0, 1, 0))):
        Polygon((1, 68), (1, 2), (47, 2), (47, 22), (71, 22), (71, 68), align=None)
    extrude(amount=-CUT_EXTRUDE_32_DEPTH, mode=Mode.SUBTRACT)

    # 草图57 → 切除-拉伸33 (cut)
    with BuildSketch(Plane(origin=(0, 1, 0), x_dir=(1, 0, 0), z_dir=(0, 1, 0))):
        with Locations((24, -9.5)):
            Rectangle(SKETCH_57_W, SKETCH_57_H)
    extrude(amount=-CUT_EXTRUDE_33_DEPTH, mode=Mode.SUBTRACT)

    # 草图58 → 凸台-拉伸31 (add)
    with BuildSketch(Plane(origin=(0, 7, 0), x_dir=(1, 0, 0), z_dir=(0, 1, 0))):
        with Locations((37.5, 22.5)):
            Rectangle(SKETCH_58_W, SKETCH_58_H)
    extrude(amount=EXTRUDE_31_DEPTH)

    # 草图59 → 切除-拉伸37 (cut, two sides)
    with BuildSketch(Plane(origin=(0, 7, 0), x_dir=(1, 0, 0), z_dir=(0, 1, 0))) as cut_extrude_37_sk:
        with Locations((37, 3.5)):
            Rectangle(SKETCH_59_W, SKETCH_59_H)
    extrude(amount=CUT_EXTRUDE_37_DEPTH, mode=Mode.SUBTRACT)
    extrude(cut_extrude_37_sk.sketch, amount=-CUT_EXTRUDE_37_DEPTH_BACK, mode=Mode.SUBTRACT)

    # 草图60 → 凸台-拉伸32 (add)
    with BuildSketch(Plane(origin=(0, 1, 0), x_dir=(1, 0, 0), z_dir=(0, 1, 0))):
        with Locations((25.5, -1)):
            Rectangle(SKETCH_60_W, SKETCH_60_H)
        with Locations((25.5, -12.5)):
            Rectangle(SKETCH_60_W, SKETCH_60_H_2)
    extrude(amount=EXTRUDE_32_DEPTH)

    # 草图61 → 切除-拉伸39 (cut, two sides)
    with BuildSketch(Plane(origin=(0, 7, 0), x_dir=(1, 0, 0), z_dir=(0, 1, 0))) as cut_extrude_39_sk:
        with Locations((61, 22)):
            Rectangle(SKETCH_61_W, SKETCH_61_H)
    extrude(amount=CUT_EXTRUDE_39_DEPTH, mode=Mode.SUBTRACT)
    extrude(cut_extrude_39_sk.sketch, amount=-CUT_EXTRUDE_39_DEPTH_BACK, mode=Mode.SUBTRACT)

    # 草图62 → 切除-拉伸40 (cut, two sides)
    with BuildSketch(Plane(origin=(0, 7, 0), x_dir=(1, 0, 0), z_dir=(0, 1, 0))) as cut_extrude_40_sk:
        with Locations((27.5, 5.5)):
            Rectangle(SKETCH_62_W, SKETCH_62_H)
    extrude(amount=CUT_EXTRUDE_40_DEPTH, mode=Mode.SUBTRACT)
    extrude(cut_extrude_40_sk.sketch, amount=-CUT_EXTRUDE_40_DEPTH_BACK, mode=Mode.SUBTRACT)


solid = part.part
